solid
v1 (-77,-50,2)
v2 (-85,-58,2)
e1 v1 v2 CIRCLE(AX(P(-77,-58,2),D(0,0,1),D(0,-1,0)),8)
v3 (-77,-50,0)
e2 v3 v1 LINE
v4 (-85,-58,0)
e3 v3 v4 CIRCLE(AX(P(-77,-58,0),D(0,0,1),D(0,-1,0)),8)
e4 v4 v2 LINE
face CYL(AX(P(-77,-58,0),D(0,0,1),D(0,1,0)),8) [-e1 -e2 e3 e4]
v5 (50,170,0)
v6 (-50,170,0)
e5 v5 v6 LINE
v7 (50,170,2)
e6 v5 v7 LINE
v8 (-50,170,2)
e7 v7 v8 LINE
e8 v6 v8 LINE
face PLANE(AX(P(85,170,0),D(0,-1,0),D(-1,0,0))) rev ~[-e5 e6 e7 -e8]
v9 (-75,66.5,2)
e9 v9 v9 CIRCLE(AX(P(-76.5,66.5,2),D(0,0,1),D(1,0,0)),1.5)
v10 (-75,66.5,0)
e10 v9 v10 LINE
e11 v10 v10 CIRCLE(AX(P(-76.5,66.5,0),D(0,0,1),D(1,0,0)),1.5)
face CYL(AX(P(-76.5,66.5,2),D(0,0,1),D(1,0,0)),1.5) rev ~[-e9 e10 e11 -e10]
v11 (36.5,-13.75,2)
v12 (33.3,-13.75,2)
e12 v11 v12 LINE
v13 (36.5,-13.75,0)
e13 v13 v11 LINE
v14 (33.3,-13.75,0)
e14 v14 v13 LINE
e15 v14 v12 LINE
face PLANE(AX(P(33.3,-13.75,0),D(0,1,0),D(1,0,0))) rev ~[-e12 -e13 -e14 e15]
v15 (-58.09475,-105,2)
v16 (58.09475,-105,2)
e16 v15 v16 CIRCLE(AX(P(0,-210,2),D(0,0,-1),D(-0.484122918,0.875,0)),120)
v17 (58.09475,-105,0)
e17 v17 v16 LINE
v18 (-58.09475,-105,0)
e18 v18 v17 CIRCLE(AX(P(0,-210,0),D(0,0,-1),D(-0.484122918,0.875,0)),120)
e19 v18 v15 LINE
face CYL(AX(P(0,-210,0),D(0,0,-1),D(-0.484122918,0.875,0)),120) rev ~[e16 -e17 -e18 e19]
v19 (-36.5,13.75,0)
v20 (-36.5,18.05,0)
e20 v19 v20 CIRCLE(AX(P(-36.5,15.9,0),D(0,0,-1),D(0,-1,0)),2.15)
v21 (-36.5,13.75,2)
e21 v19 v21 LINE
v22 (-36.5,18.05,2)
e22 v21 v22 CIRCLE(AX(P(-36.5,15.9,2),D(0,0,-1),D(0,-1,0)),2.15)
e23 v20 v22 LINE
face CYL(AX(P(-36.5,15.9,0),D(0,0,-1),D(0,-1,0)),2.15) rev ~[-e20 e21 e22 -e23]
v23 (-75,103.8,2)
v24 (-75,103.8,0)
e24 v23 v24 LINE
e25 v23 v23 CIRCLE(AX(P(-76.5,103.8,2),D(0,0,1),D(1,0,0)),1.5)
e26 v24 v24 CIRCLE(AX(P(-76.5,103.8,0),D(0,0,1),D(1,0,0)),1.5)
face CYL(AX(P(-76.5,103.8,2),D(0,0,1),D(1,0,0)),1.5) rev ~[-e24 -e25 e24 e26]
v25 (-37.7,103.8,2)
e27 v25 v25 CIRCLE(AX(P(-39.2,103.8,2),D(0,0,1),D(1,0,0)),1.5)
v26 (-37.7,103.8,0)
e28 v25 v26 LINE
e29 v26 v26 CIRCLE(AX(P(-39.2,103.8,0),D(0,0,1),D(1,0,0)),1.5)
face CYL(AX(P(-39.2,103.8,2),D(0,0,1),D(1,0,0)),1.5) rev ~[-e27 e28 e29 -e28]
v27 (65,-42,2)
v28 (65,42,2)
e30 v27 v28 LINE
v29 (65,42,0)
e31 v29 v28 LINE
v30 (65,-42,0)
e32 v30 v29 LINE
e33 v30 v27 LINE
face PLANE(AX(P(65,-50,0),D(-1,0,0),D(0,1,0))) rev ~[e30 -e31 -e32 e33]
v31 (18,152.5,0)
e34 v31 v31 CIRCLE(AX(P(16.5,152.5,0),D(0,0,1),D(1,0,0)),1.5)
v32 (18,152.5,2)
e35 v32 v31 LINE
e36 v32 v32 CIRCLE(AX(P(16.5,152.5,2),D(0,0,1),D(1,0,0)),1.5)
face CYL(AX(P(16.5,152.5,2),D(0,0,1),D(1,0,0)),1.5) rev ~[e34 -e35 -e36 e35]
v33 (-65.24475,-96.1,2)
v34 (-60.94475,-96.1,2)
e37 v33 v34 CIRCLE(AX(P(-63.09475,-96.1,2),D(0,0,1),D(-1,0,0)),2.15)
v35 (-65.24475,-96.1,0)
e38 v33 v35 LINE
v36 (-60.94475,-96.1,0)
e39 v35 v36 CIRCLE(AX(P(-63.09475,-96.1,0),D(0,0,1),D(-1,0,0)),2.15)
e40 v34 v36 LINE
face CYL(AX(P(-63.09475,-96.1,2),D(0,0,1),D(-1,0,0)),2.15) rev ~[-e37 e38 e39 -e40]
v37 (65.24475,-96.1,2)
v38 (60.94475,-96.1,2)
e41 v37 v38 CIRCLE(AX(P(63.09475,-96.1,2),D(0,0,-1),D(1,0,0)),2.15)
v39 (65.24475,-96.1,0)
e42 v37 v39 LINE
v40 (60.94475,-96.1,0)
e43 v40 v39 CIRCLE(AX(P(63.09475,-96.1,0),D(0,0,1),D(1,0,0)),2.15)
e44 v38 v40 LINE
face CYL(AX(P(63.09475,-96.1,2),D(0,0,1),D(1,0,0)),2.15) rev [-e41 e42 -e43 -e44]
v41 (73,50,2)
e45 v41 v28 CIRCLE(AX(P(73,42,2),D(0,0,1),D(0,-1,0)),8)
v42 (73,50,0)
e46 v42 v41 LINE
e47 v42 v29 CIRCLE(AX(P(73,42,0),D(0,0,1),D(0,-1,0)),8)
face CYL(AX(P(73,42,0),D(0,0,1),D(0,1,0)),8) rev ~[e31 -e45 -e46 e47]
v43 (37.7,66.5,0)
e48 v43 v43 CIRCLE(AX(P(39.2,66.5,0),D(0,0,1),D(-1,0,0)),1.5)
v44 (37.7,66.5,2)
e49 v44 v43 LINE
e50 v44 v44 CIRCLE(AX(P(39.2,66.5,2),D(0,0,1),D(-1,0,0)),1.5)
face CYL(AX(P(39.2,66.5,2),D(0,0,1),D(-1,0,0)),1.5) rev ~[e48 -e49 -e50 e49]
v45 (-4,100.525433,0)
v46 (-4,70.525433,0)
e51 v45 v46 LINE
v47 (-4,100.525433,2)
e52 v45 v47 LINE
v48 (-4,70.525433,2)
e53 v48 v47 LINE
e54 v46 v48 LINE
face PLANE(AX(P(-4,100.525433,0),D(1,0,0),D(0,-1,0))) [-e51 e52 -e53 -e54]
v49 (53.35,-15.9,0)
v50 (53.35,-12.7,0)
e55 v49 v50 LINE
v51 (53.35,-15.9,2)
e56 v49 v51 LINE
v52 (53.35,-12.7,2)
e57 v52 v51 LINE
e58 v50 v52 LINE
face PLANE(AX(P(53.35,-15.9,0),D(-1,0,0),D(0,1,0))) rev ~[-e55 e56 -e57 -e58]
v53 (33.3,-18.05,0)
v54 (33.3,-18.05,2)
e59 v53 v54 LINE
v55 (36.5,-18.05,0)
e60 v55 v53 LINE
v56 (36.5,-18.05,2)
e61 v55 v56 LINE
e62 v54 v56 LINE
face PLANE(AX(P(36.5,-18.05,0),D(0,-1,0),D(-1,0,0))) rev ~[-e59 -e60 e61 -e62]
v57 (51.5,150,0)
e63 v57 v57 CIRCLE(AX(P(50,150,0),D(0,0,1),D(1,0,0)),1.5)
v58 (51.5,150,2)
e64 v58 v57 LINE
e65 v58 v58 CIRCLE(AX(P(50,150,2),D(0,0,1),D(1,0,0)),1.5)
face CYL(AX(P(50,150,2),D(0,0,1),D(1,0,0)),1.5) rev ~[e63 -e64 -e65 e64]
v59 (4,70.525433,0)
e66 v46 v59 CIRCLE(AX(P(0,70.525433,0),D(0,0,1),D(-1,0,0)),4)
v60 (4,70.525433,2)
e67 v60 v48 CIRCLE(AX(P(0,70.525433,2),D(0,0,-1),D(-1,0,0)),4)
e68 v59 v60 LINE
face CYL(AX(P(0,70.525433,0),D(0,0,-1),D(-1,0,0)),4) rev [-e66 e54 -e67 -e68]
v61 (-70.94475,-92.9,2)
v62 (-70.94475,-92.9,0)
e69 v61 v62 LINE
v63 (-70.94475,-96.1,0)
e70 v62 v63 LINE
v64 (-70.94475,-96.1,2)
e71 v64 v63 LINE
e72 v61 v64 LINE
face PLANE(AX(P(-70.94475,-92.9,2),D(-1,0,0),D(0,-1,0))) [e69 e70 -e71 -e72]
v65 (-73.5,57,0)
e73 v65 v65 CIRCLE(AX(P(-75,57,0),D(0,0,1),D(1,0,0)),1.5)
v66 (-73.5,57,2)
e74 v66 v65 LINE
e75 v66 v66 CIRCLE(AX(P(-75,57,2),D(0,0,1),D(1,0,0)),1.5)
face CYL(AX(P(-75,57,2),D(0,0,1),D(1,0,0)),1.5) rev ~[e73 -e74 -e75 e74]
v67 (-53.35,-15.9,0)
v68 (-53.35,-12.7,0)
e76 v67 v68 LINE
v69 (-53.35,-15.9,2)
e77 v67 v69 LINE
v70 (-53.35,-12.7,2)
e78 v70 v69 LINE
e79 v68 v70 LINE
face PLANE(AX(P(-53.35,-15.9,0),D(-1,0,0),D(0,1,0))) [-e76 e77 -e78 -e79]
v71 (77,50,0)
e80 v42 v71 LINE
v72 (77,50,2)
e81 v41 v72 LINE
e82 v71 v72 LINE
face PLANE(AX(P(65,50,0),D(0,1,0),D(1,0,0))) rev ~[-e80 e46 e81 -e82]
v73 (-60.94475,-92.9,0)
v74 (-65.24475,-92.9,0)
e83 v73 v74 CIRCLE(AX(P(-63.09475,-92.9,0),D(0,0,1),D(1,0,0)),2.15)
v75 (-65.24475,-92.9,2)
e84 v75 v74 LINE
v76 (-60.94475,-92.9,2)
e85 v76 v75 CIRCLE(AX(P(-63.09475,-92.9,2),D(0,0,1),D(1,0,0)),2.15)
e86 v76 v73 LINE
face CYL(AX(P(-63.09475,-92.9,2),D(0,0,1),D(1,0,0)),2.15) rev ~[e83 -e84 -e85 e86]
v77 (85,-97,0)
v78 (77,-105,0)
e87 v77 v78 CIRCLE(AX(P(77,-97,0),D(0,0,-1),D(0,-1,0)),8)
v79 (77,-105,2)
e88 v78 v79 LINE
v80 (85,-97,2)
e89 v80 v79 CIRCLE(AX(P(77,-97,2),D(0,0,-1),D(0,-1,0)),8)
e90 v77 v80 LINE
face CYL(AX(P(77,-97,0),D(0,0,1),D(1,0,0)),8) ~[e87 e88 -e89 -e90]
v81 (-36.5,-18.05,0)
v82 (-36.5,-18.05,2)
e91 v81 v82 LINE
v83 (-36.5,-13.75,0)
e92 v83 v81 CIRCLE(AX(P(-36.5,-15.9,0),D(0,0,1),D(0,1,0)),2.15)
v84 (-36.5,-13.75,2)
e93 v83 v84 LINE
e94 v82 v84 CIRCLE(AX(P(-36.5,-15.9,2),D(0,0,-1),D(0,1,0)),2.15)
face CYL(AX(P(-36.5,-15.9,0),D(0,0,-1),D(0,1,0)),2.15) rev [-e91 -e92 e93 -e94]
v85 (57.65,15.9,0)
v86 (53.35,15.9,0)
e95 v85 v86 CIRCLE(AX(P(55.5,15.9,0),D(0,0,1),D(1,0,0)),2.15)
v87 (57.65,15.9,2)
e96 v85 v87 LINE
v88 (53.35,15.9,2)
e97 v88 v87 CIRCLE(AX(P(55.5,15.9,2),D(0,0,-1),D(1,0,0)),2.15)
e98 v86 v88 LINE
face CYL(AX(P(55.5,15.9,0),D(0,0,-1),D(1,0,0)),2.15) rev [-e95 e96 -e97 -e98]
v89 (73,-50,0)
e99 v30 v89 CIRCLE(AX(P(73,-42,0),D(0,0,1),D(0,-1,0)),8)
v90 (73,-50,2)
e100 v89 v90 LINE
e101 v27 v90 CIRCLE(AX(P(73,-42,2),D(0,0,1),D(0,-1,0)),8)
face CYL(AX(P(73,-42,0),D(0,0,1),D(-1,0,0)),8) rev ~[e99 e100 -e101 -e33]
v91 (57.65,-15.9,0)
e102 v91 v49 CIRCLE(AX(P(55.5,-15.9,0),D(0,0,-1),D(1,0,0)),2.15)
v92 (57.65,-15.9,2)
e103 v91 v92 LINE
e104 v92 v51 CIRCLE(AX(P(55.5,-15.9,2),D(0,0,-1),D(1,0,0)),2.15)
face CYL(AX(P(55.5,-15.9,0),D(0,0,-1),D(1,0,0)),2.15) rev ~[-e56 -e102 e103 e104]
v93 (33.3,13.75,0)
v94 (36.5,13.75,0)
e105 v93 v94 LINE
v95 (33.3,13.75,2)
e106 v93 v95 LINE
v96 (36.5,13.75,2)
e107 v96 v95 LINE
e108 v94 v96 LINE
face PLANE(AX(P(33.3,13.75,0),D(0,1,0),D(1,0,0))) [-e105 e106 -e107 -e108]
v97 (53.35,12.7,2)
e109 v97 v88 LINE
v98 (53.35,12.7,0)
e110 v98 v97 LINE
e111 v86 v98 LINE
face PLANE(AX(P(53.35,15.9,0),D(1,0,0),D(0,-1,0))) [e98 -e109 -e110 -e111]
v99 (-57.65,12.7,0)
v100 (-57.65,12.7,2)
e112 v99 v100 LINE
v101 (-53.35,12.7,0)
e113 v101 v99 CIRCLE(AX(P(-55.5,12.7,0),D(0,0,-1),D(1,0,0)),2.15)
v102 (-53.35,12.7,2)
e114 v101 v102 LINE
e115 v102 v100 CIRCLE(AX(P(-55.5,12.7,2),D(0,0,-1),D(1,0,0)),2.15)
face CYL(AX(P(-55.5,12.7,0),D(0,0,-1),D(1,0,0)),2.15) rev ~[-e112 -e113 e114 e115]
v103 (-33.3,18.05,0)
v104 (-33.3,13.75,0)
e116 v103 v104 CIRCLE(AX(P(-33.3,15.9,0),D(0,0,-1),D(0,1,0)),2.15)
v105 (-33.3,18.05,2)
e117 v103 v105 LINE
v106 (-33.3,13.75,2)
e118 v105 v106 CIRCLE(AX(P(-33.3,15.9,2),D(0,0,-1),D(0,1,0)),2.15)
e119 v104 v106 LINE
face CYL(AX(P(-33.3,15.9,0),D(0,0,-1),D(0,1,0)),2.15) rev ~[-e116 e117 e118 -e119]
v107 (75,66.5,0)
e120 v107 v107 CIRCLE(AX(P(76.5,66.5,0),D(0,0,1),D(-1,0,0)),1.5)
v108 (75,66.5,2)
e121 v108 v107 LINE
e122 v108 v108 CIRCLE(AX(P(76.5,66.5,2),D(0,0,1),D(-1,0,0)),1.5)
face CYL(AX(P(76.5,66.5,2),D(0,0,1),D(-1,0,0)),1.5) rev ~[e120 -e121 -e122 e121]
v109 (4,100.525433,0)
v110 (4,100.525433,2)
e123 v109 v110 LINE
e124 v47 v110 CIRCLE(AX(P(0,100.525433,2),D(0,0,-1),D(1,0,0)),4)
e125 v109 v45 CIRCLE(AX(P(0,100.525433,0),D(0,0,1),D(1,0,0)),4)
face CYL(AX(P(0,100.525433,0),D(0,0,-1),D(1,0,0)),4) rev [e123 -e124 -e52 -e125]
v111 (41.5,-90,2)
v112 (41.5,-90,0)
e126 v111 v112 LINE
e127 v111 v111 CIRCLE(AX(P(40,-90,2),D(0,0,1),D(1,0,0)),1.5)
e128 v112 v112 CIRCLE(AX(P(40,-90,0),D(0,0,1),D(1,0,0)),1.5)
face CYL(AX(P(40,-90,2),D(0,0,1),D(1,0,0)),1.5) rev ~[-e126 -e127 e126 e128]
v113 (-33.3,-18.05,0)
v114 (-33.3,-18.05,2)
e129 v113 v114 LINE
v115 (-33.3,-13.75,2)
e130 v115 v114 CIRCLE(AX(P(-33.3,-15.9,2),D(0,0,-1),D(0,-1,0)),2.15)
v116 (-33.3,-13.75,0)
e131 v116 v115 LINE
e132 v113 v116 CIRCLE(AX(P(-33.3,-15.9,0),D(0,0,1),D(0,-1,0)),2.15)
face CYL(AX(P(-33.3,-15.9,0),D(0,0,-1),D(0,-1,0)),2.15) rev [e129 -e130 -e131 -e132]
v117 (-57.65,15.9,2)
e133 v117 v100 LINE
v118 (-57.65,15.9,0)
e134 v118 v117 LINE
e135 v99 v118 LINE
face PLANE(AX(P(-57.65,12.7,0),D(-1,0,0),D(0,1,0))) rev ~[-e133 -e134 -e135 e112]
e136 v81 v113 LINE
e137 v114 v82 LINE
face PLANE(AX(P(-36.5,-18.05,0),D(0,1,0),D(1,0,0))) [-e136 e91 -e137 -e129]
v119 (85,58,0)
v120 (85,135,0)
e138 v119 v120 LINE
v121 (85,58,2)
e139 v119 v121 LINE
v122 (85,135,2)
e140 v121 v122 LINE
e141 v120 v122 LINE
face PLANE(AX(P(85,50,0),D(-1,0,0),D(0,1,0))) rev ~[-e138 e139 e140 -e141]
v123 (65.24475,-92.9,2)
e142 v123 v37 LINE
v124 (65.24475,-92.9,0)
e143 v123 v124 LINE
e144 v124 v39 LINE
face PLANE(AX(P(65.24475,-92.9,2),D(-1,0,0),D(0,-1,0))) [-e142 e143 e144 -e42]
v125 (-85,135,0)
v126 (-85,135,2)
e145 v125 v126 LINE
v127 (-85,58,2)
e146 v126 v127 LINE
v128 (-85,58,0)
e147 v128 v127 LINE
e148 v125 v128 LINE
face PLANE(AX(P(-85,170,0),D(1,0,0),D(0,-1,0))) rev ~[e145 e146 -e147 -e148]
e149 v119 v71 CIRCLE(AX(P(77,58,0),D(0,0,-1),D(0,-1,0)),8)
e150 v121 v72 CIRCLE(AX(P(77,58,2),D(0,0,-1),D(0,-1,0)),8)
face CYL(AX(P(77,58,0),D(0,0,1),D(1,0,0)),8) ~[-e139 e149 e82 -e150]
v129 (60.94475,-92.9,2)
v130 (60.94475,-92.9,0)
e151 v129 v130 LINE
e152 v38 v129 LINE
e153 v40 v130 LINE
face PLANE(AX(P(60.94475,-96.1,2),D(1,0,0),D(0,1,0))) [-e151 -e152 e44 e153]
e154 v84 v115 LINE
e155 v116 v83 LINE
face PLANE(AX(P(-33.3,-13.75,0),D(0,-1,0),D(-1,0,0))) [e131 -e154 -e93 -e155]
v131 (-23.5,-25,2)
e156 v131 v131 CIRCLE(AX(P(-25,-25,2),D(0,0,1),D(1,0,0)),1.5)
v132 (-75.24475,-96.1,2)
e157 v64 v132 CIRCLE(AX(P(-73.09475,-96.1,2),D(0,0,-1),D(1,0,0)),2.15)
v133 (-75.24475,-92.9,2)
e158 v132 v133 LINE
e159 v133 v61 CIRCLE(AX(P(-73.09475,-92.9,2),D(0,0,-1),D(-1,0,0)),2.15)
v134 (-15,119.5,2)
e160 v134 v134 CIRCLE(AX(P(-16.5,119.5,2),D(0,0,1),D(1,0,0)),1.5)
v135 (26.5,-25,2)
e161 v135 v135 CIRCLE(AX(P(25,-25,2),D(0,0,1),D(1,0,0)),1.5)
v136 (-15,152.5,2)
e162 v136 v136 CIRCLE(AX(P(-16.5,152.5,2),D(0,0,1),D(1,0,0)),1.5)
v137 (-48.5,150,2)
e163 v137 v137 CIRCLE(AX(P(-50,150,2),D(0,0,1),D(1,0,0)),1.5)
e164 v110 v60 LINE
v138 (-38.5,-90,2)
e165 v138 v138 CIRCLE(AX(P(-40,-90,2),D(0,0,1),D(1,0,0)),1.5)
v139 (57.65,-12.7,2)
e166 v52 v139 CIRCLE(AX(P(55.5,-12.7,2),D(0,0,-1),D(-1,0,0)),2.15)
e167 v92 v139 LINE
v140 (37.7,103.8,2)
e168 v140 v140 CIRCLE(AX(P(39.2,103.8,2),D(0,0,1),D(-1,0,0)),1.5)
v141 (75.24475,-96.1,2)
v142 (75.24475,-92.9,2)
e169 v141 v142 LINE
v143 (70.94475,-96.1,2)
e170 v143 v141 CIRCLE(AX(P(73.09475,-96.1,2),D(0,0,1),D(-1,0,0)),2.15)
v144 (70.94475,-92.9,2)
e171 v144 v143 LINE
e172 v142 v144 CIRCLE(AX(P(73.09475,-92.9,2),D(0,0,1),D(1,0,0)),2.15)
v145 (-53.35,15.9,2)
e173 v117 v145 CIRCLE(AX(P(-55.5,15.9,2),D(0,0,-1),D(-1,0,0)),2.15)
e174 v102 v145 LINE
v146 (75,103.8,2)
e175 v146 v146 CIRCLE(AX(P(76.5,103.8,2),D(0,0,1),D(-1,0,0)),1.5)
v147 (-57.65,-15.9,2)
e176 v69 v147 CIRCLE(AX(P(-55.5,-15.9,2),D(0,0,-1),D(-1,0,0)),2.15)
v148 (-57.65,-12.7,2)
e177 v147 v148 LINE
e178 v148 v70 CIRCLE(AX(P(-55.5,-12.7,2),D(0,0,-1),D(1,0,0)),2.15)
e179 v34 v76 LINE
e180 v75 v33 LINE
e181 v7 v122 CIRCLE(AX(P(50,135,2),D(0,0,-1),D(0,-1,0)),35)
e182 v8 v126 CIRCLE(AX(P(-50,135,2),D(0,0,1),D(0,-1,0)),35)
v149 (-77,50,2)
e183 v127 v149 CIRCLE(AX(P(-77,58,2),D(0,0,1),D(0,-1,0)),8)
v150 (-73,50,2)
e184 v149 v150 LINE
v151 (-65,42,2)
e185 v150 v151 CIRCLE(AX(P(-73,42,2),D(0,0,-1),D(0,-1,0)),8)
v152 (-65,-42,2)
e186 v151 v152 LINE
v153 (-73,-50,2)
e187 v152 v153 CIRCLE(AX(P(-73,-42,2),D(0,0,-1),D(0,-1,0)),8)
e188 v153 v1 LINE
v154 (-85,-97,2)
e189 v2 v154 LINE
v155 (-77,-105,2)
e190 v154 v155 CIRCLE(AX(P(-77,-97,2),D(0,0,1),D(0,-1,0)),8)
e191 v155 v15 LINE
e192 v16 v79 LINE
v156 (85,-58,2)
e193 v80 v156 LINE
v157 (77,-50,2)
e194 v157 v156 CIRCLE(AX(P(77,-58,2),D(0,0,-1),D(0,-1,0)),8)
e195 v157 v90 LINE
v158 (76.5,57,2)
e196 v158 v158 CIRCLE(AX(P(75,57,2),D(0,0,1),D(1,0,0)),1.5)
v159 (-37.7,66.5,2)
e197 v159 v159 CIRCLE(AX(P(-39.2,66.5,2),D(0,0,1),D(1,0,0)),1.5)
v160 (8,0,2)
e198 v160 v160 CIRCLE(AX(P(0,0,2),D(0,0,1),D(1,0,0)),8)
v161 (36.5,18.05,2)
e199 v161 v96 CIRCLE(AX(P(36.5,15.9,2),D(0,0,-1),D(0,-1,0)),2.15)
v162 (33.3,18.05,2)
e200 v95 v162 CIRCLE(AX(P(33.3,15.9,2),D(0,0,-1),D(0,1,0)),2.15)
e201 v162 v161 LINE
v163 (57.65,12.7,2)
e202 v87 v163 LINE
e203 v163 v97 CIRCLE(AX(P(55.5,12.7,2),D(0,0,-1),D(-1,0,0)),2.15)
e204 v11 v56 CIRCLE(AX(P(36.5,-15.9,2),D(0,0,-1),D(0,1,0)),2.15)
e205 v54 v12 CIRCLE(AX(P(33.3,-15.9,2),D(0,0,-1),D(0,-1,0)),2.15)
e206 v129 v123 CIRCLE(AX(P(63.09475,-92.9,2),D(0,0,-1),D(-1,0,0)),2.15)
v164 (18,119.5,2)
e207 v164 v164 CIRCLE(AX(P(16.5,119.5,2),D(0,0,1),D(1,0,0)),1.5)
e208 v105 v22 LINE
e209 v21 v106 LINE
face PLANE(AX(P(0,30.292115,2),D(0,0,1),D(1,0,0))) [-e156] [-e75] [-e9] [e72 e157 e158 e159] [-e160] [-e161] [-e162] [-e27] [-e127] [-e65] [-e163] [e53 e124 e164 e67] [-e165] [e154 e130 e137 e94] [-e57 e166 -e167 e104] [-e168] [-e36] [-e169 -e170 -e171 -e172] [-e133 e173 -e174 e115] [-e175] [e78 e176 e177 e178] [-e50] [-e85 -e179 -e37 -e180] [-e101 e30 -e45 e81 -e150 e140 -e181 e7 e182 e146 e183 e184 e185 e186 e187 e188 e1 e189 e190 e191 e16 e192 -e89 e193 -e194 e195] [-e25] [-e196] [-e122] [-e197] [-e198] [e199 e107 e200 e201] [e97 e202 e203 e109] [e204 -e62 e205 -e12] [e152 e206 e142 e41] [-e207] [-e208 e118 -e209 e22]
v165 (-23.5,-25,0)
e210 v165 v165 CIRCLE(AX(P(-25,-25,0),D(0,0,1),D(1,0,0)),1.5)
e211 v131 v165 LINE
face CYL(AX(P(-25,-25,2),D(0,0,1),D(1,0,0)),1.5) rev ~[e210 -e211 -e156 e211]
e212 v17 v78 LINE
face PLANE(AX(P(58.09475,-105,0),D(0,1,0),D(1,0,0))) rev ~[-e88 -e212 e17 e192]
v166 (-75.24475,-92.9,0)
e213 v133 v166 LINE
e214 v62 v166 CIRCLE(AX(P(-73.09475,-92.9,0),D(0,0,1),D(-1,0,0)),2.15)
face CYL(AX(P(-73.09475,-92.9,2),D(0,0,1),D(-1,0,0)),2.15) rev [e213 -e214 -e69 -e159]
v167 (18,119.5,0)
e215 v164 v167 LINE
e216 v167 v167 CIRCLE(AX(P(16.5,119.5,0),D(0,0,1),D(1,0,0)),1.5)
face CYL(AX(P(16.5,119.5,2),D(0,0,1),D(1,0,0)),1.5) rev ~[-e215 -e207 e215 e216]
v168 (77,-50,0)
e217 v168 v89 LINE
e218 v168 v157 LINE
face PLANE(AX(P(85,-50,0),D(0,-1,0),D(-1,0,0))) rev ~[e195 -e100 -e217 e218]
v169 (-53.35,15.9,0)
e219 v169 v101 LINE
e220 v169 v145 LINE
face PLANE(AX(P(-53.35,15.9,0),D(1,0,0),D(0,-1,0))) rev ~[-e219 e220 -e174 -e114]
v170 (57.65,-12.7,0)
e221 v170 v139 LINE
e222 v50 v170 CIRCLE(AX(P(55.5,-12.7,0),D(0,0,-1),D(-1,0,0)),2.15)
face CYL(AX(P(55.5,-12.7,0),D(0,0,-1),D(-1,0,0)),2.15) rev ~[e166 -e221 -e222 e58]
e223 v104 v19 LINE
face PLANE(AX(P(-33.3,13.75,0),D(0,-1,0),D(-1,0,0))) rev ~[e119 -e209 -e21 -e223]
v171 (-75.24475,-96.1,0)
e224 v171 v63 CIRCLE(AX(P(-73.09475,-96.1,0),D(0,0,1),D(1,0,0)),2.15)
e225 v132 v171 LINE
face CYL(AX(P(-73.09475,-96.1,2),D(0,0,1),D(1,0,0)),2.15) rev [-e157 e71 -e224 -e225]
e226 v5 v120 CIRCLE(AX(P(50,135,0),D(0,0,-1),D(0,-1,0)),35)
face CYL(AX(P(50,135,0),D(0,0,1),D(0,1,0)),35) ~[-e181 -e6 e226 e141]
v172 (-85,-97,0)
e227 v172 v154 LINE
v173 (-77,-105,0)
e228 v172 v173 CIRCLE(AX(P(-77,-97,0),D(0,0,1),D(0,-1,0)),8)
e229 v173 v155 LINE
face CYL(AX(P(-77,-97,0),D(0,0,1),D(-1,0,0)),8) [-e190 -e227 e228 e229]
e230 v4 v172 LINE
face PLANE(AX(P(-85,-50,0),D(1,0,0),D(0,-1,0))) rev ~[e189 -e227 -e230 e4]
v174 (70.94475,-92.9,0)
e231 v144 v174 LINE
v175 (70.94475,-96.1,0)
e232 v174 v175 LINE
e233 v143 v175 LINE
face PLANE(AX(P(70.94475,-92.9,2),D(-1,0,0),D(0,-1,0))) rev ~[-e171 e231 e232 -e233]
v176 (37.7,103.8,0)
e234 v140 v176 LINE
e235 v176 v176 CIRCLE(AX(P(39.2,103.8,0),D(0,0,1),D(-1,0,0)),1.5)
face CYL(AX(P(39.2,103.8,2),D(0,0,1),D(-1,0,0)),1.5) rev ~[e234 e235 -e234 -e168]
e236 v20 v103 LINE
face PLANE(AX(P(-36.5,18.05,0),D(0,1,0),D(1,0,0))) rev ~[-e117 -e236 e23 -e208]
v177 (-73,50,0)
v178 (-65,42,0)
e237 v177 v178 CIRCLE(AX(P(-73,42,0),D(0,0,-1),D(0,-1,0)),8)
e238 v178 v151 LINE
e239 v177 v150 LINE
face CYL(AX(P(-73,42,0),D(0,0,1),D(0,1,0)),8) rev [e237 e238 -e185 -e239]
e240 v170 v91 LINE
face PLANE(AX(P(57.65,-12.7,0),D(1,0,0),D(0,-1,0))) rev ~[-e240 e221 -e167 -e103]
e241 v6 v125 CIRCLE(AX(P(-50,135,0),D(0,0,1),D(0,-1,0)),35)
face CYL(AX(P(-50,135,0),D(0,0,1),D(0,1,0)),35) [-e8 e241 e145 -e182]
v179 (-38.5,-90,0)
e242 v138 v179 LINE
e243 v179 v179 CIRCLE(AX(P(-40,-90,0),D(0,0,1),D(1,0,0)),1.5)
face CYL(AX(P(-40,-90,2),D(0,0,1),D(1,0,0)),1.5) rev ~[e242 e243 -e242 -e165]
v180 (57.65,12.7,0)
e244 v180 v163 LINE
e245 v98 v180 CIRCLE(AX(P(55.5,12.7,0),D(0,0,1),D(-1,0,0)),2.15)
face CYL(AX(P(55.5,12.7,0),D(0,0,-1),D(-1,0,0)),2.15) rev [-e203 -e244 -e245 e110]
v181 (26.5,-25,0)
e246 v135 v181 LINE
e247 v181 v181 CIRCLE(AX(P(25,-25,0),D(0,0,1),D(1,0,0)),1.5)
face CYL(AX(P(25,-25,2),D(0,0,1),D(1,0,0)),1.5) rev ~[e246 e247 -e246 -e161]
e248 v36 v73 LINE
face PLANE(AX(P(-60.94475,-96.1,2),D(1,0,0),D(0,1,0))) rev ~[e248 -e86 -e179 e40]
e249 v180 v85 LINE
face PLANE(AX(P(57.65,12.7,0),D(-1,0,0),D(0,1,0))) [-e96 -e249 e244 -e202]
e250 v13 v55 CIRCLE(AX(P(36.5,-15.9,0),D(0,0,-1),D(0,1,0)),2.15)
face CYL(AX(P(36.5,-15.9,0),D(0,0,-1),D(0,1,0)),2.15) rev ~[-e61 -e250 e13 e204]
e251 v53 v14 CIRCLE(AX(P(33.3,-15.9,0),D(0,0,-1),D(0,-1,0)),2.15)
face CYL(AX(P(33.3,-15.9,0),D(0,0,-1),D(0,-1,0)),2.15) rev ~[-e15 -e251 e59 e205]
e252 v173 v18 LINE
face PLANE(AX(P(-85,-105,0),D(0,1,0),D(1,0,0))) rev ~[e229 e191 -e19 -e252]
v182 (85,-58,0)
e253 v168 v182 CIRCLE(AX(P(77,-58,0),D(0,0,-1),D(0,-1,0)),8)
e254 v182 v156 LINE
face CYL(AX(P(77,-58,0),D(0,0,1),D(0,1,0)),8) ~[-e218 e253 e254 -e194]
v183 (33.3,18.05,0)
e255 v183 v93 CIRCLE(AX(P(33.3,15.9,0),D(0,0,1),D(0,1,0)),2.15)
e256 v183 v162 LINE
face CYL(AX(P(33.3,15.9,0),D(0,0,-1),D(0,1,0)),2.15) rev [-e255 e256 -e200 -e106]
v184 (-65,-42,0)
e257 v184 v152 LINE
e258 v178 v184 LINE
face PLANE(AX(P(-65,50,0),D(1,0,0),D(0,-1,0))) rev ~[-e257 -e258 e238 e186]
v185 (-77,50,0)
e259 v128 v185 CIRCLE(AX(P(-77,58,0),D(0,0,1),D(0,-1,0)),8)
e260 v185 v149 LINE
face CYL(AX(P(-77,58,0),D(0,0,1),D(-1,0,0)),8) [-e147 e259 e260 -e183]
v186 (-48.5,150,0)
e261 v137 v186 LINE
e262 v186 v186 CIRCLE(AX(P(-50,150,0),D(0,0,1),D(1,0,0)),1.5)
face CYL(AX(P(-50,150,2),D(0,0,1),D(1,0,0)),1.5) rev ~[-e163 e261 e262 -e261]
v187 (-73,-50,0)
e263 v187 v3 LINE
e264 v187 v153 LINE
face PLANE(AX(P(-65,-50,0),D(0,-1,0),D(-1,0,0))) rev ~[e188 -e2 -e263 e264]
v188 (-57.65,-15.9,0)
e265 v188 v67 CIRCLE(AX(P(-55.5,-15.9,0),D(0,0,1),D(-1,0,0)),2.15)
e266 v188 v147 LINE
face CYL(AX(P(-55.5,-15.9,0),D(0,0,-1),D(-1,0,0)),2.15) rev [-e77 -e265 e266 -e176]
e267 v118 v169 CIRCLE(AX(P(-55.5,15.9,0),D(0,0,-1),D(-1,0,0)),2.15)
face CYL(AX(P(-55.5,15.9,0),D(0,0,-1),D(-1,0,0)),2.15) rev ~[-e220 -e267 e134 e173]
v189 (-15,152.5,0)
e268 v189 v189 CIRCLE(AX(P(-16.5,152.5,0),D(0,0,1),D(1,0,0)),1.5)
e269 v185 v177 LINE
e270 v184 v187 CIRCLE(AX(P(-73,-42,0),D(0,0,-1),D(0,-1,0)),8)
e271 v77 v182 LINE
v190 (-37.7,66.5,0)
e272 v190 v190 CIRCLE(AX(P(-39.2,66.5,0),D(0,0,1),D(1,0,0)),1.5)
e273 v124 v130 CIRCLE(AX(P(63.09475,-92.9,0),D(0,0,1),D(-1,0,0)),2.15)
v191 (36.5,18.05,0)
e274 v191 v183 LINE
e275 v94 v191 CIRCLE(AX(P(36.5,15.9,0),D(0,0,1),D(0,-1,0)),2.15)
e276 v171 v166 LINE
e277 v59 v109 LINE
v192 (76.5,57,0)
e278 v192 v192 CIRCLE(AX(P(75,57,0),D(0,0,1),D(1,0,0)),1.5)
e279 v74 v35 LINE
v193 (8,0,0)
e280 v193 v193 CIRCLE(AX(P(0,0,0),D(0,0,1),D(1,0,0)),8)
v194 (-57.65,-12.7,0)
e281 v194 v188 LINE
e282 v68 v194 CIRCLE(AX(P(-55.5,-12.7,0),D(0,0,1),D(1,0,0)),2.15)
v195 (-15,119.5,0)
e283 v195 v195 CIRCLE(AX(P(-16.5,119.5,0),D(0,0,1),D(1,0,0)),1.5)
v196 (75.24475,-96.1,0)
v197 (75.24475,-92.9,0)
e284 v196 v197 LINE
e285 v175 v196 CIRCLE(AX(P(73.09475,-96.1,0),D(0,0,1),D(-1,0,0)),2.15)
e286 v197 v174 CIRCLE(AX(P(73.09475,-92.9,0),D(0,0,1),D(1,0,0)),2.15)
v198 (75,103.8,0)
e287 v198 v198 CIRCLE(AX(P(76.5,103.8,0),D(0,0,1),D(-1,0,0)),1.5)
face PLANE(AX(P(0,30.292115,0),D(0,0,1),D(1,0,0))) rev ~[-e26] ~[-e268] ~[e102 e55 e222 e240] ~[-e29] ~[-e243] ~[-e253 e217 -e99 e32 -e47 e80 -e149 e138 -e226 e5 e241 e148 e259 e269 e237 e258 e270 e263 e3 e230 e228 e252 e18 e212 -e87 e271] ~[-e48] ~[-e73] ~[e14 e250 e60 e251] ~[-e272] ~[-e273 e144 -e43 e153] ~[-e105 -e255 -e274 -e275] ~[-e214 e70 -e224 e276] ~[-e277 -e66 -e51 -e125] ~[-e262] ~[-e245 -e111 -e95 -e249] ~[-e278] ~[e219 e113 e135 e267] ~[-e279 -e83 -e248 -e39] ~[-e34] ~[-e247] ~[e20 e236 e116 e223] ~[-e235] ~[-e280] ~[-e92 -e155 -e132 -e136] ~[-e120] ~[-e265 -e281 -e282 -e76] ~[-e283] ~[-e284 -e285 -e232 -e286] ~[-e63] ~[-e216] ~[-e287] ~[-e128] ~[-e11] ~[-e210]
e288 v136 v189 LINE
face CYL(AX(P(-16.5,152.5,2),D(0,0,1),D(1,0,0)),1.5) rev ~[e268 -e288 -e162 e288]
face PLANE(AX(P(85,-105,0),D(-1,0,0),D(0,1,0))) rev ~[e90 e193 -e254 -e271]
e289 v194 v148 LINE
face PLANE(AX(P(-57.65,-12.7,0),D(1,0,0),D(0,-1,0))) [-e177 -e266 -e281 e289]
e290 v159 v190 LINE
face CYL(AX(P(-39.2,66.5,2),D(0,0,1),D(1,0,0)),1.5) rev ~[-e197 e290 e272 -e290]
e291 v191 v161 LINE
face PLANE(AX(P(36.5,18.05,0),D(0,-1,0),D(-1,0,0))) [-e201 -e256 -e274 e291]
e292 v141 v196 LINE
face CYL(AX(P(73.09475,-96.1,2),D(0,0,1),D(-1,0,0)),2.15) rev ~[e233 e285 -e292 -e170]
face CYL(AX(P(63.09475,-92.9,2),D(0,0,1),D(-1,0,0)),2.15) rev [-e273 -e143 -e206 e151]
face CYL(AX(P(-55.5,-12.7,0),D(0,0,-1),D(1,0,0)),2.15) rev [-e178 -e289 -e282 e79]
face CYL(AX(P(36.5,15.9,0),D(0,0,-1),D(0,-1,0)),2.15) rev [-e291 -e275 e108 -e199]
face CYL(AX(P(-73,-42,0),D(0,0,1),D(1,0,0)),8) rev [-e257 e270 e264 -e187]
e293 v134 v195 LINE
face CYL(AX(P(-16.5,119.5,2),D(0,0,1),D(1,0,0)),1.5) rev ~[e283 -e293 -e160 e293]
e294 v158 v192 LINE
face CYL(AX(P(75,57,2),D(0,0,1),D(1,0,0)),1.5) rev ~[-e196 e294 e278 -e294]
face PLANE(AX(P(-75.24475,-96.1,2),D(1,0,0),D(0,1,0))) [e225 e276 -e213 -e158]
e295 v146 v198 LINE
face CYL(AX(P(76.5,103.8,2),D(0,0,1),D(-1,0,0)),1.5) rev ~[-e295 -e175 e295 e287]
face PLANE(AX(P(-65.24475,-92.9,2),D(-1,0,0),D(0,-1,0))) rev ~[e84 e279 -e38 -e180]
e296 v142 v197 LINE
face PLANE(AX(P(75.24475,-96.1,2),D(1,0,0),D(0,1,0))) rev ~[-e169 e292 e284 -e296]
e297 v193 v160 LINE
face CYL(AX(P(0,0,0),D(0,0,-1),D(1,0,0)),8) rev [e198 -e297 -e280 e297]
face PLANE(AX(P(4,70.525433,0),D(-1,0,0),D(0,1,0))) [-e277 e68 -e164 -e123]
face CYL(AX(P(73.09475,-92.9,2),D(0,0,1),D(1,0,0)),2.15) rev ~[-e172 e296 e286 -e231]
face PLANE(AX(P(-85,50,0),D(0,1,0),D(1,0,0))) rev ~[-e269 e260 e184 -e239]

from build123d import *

# Parameters (mm, degrees)
SKETCH1_R           = 8
BOSS_EXTRUDE1_DEPTH = 2
FILLET3_R           = 35
FILLET4_R           = 8
FILLET5_R           = 8
SKETCH6_R           = 1.5
CUT_EXTRUDE1_DEPTH  = 2
CUT_EXTRUDE2_DEPTH  = 10
CUT_EXTRUDE3_DEPTH  = 10
SKETCH10_R          = 1.5
CUT_EXTRUDE4_DEPTH  = 10
SKETCH11_R          = 1.5
CUT_EXTRUDE5_DEPTH  = 10
SKETCH12_R          = 1.5
CUT_EXTRUDE6_DEPTH  = 20


with BuildPart() as part:
    # Sketch1 → Boss-Extrude1 (new body)
    with BuildSketch(Plane.XY):
        with BuildLine():
            Line((85, 170), (-85, 170))
            Line((-85, 170), (-85, 50))
            Line((-85, 50), (-65, 50))
            Line((-65, 50), (-65, -50))
            Line((-65, -50), (-85, -50))
            Line((-85, -50), (-85, -105))
            Line((-85, -105), (-58.094750193, -105))
            ThreePointArc((-58.094750193, -105), (0, -90), (58.094750193, -105))
            Line((58.094750193, -105), (85, -105))
            Line((85, -105), (85, -50))
            Line((85, -50), (65, -50))
            Line((65, -50), (65, 50))
            Line((65, 50), (85, 50))
            Line((85, 50), (85, 170))
        make_face()
        Circle(SKETCH1_R, mode=Mode.SUBTRACT)
    extrude(amount=BOSS_EXTRUDE1_DEPTH)

    # Fillet3
    fillet3_edges = [part.edges().sort_by_distance(p)[0] for p in [
        (-85, 170, 1),
        (85, 170, 1),
    ]]
    fillet(fillet3_edges, radius=FILLET3_R)

    # Fillet4
    fillet4_edges = [part.edges().sort_by_distance(p)[0] for p in [
        (-85, -105, 1),
        (-85, -50, 1),
        (-65, -50, 1),
        (-65, 50, 1),
        (-85, 50, 1),
    ]]
    fillet(fillet4_edges, radius=FILLET4_R)

    # Fillet5
    fillet5_edges = [part.edges().sort_by_distance(p)[0] for p in [
        (85, 50, 1),
        (65, 50, 1),
        (65, -50, 1),
        (85, -50, 1),
        (85, -105, 1),
    ]]
    fillet(fillet5_edges, radius=FILLET5_R)

    # Sketch6 → Cut-Extrude1 (cut)
    with BuildSketch(Plane.XY.offset(2)):
        with Locations((-76.5, 66.5)):
            Circle(SKETCH6_R)
        with Locations((-76.5, 103.8)):
            Circle(SKETCH6_R)
        with Locations((-39.2, 103.8)):
            Circle(SKETCH6_R)
        with Locations((-39.2, 66.5)):
            Circle(SKETCH6_R)
        with Locations(Location((76.5, 66.5, 0), (0, 0, 180))):
            Circle(SKETCH6_R)
        with Locations(Location((76.5, 103.8, 0), (0, 0, 180))):
            Circle(SKETCH6_R)
        with Locations(Location((39.2, 103.8, 0), (0, 0, 180))):
            Circle(SKETCH6_R)
        with Locations(Location((39.2, 66.5, 0), (0, 0, 180))):
            Circle(SKETCH6_R)
    extrude(amount=-CUT_EXTRUDE1_DEPTH, mode=Mode.SUBTRACT)

    # Sketch8 → Cut-Extrude2 (cut)
    with BuildSketch(Plane(origin=(0, 0, 0), x_dir=(-1, 0, 0), z_dir=(0, 0, -1))):
        with BuildLine():
            Line((-4, 70.525433242), (-4, 100.525433242))
            ThreePointArc((-4, 100.525433242), (0, 104.525433242), (4, 100.525433242))
            Line((4, 100.525433242), (4, 70.525433242))
            ThreePointArc((4, 70.525433242), (0, 66.525433242), (-4, 70.525433242))
        make_face()
        with BuildLine():
            Line((-53.35, 15.9), (-53.35, 12.7))
            ThreePointArc((-53.35, 12.7), (-55.5, 10.55), (-57.65, 12.7))
            Line((-57.65, 12.7), (-57.65, 15.9))
            ThreePointArc((-57.65, 15.9), (-55.5, 18.05), (-53.35, 15.9))
        make_face()
        with BuildLine():
            Line((-53.35, -15.9), (-53.35, -12.7))
            ThreePointArc((-53.35, -12.7), (-55.5, -10.55), (-57.65, -12.7))
            Line((-57.65, -12.7), (-57.65, -15.9))
            ThreePointArc((-57.65, -15.9), (-55.5, -18.05), (-53.35, -15.9))
        make_face()
        with BuildLine():
            Line((-33.3, 13.75), (-36.5, 13.75))
            ThreePointArc((-36.5, 13.75), (-38.65, 15.9), (-36.5, 18.05))
            Line((-36.5, 18.05), (-33.3, 18.05))
            ThreePointArc((-33.3, 18.05), (-31.15, 15.9), (-33.3, 13.75))
        make_face()
        with BuildLine():
            Line((-33.3, -13.75), (-36.5, -13.75))
            ThreePointArc((-36.5, -13.75), (-38.65, -15.9), (-36.5, -18.05))
            Line((-36.5, -18.05), (-33.3, -18.05))
            ThreePointArc((-33.3, -18.05), (-31.15, -15.9), (-33.3, -13.75))
        make_face()
        with BuildLine():
            Line((33.3, -13.75), (36.5, -13.75))
            ThreePointArc((36.5, -13.75), (38.65, -15.9), (36.5, -18.05))
            Line((36.5, -18.05), (33.3, -18.05))
            ThreePointArc((33.3, -18.05), (31.15, -15.9), (33.3, -13.75))
        make_face()
        with BuildLine():
            Line((33.3, 13.75), (36.5, 13.75))
            ThreePointArc((36.5, 13.75), (38.65, 15.9), (36.5, 18.05))
            Line((36.5, 18.05), (33.3, 18.05))
            ThreePointArc((33.3, 18.05), (31.15, 15.9), (33.3, 13.75))
        make_face()
        with BuildLine():
            Line((53.35, 15.9), (53.35, 12.7))
            ThreePointArc((53.35, 12.7), (55.5, 10.55), (57.65, 12.7))
            Line((57.65, 12.7), (57.65, 15.9))
            ThreePointArc((57.65, 15.9), (55.5, 18.05), (53.35, 15.9))
        make_face()
        with BuildLine():
            Line((53.35, -15.9), (53.35, -12.7))
            ThreePointArc((53.35, -12.7), (55.5, -10.55), (57.65, -12.7))
            Line((57.65, -12.7), (57.65, -15.9))
            ThreePointArc((57.65, -15.9), (55.5, -18.05), (53.35, -15.9))
        make_face()
    extrude(amount=-CUT_EXTRUDE2_DEPTH, mode=Mode.SUBTRACT)

    # Sketch9 → Cut-Extrude3 (cut)
    with BuildSketch(Plane.XY.offset(2)):
        with BuildLine():
            Line((-70.944750193, -92.9), (-70.944750193, -96.1))
            ThreePointArc((-70.944750193, -96.1), (-73.094750193, -98.25), (-75.244750193, -96.1))
            Line((-75.244750193, -96.1), (-75.244750193, -92.9))
            ThreePointArc((-75.244750193, -92.9), (-73.094750193, -90.75), (-70.944750193, -92.9))
        make_face()
        with BuildLine():
            Line((-65.244750193, -92.9), (-65.244750193, -96.1))
            ThreePointArc((-65.244750193, -96.1), (-63.094750193, -98.25), (-60.944750193, -96.1))
            Line((-60.944750193, -96.1), (-60.944750193, -92.9))
            ThreePointArc((-60.944750193, -92.9), (-63.094750193, -90.75), (-65.244750193, -92.9))
        make_face()
        with BuildLine():
            Line((65.244750193, -92.9), (65.244750193, -96.1))
            ThreePointArc((65.244750193, -96.1), (63.094750193, -98.25), (60.944750193, -96.1))
            Line((60.944750193, -96.1), (60.944750193, -92.9))
            ThreePointArc((60.944750193, -92.9), (63.094750193, -90.75), (65.244750193, -92.9))
        make_face()
        with BuildLine():
            Line((70.944750193, -92.9), (70.944750193, -96.1))
            ThreePointArc((70.944750193, -96.1), (73.094750193, -98.25), (75.244750193, -96.1))
            Line((75.244750193, -96.1), (75.244750193, -92.9))
            ThreePointArc((75.244750193, -92.9), (73.094750193, -90.75), (70.944750193, -92.9))
        make_face()
    extrude(amount=-CUT_EXTRUDE3_DEPTH, mode=Mode.SUBTRACT)

    # Sketch10 → Cut-Extrude4 (cut)
    with BuildSketch(Plane.XY.offset(2)):
        with Locations((-50, 150)):
            Circle(SKETCH10_R)
        with Locations((50, 150)):
            Circle(SKETCH10_R)
        with Locations((-75, 57)):
            Circle(SKETCH10_R)
        with Locations((75, 57)):
            Circle(SKETCH10_R)
    extrude(amount=-CUT_EXTRUDE4_DEPTH, mode=Mode.SUBTRACT)

    # Sketch11 → Cut-Extrude5 (cut)
    with BuildSketch(Plane.XY.offset(2)):
        with Locations((-40, -90)):
            Circle(SKETCH11_R)
        with Locations((40, -90)):
            Circle(SKETCH11_R)
        with Locations((-25, -25)):
            Circle(SKETCH11_R)
        with Locations((25, -25)):
            Circle(SKETCH11_R)
    extrude(amount=-CUT_EXTRUDE5_DEPTH, mode=Mode.SUBTRACT)

    # Sketch12 → Cut-Extrude6 (cut)
    with BuildSketch(Plane.XY.offset(2)):
        with Locations((-16.5, 119.5)):
            Circle(SKETCH12_R)
        with Locations((-16.5, 152.5)):
            Circle(SKETCH12_R)
        with Locations((16.5, 119.5)):
            Circle(SKETCH12_R)
        with Locations((16.5, 152.5)):
            Circle(SKETCH12_R)
    extrude(amount=-CUT_EXTRUDE6_DEPTH, mode=Mode.SUBTRACT)


solid = part.part
